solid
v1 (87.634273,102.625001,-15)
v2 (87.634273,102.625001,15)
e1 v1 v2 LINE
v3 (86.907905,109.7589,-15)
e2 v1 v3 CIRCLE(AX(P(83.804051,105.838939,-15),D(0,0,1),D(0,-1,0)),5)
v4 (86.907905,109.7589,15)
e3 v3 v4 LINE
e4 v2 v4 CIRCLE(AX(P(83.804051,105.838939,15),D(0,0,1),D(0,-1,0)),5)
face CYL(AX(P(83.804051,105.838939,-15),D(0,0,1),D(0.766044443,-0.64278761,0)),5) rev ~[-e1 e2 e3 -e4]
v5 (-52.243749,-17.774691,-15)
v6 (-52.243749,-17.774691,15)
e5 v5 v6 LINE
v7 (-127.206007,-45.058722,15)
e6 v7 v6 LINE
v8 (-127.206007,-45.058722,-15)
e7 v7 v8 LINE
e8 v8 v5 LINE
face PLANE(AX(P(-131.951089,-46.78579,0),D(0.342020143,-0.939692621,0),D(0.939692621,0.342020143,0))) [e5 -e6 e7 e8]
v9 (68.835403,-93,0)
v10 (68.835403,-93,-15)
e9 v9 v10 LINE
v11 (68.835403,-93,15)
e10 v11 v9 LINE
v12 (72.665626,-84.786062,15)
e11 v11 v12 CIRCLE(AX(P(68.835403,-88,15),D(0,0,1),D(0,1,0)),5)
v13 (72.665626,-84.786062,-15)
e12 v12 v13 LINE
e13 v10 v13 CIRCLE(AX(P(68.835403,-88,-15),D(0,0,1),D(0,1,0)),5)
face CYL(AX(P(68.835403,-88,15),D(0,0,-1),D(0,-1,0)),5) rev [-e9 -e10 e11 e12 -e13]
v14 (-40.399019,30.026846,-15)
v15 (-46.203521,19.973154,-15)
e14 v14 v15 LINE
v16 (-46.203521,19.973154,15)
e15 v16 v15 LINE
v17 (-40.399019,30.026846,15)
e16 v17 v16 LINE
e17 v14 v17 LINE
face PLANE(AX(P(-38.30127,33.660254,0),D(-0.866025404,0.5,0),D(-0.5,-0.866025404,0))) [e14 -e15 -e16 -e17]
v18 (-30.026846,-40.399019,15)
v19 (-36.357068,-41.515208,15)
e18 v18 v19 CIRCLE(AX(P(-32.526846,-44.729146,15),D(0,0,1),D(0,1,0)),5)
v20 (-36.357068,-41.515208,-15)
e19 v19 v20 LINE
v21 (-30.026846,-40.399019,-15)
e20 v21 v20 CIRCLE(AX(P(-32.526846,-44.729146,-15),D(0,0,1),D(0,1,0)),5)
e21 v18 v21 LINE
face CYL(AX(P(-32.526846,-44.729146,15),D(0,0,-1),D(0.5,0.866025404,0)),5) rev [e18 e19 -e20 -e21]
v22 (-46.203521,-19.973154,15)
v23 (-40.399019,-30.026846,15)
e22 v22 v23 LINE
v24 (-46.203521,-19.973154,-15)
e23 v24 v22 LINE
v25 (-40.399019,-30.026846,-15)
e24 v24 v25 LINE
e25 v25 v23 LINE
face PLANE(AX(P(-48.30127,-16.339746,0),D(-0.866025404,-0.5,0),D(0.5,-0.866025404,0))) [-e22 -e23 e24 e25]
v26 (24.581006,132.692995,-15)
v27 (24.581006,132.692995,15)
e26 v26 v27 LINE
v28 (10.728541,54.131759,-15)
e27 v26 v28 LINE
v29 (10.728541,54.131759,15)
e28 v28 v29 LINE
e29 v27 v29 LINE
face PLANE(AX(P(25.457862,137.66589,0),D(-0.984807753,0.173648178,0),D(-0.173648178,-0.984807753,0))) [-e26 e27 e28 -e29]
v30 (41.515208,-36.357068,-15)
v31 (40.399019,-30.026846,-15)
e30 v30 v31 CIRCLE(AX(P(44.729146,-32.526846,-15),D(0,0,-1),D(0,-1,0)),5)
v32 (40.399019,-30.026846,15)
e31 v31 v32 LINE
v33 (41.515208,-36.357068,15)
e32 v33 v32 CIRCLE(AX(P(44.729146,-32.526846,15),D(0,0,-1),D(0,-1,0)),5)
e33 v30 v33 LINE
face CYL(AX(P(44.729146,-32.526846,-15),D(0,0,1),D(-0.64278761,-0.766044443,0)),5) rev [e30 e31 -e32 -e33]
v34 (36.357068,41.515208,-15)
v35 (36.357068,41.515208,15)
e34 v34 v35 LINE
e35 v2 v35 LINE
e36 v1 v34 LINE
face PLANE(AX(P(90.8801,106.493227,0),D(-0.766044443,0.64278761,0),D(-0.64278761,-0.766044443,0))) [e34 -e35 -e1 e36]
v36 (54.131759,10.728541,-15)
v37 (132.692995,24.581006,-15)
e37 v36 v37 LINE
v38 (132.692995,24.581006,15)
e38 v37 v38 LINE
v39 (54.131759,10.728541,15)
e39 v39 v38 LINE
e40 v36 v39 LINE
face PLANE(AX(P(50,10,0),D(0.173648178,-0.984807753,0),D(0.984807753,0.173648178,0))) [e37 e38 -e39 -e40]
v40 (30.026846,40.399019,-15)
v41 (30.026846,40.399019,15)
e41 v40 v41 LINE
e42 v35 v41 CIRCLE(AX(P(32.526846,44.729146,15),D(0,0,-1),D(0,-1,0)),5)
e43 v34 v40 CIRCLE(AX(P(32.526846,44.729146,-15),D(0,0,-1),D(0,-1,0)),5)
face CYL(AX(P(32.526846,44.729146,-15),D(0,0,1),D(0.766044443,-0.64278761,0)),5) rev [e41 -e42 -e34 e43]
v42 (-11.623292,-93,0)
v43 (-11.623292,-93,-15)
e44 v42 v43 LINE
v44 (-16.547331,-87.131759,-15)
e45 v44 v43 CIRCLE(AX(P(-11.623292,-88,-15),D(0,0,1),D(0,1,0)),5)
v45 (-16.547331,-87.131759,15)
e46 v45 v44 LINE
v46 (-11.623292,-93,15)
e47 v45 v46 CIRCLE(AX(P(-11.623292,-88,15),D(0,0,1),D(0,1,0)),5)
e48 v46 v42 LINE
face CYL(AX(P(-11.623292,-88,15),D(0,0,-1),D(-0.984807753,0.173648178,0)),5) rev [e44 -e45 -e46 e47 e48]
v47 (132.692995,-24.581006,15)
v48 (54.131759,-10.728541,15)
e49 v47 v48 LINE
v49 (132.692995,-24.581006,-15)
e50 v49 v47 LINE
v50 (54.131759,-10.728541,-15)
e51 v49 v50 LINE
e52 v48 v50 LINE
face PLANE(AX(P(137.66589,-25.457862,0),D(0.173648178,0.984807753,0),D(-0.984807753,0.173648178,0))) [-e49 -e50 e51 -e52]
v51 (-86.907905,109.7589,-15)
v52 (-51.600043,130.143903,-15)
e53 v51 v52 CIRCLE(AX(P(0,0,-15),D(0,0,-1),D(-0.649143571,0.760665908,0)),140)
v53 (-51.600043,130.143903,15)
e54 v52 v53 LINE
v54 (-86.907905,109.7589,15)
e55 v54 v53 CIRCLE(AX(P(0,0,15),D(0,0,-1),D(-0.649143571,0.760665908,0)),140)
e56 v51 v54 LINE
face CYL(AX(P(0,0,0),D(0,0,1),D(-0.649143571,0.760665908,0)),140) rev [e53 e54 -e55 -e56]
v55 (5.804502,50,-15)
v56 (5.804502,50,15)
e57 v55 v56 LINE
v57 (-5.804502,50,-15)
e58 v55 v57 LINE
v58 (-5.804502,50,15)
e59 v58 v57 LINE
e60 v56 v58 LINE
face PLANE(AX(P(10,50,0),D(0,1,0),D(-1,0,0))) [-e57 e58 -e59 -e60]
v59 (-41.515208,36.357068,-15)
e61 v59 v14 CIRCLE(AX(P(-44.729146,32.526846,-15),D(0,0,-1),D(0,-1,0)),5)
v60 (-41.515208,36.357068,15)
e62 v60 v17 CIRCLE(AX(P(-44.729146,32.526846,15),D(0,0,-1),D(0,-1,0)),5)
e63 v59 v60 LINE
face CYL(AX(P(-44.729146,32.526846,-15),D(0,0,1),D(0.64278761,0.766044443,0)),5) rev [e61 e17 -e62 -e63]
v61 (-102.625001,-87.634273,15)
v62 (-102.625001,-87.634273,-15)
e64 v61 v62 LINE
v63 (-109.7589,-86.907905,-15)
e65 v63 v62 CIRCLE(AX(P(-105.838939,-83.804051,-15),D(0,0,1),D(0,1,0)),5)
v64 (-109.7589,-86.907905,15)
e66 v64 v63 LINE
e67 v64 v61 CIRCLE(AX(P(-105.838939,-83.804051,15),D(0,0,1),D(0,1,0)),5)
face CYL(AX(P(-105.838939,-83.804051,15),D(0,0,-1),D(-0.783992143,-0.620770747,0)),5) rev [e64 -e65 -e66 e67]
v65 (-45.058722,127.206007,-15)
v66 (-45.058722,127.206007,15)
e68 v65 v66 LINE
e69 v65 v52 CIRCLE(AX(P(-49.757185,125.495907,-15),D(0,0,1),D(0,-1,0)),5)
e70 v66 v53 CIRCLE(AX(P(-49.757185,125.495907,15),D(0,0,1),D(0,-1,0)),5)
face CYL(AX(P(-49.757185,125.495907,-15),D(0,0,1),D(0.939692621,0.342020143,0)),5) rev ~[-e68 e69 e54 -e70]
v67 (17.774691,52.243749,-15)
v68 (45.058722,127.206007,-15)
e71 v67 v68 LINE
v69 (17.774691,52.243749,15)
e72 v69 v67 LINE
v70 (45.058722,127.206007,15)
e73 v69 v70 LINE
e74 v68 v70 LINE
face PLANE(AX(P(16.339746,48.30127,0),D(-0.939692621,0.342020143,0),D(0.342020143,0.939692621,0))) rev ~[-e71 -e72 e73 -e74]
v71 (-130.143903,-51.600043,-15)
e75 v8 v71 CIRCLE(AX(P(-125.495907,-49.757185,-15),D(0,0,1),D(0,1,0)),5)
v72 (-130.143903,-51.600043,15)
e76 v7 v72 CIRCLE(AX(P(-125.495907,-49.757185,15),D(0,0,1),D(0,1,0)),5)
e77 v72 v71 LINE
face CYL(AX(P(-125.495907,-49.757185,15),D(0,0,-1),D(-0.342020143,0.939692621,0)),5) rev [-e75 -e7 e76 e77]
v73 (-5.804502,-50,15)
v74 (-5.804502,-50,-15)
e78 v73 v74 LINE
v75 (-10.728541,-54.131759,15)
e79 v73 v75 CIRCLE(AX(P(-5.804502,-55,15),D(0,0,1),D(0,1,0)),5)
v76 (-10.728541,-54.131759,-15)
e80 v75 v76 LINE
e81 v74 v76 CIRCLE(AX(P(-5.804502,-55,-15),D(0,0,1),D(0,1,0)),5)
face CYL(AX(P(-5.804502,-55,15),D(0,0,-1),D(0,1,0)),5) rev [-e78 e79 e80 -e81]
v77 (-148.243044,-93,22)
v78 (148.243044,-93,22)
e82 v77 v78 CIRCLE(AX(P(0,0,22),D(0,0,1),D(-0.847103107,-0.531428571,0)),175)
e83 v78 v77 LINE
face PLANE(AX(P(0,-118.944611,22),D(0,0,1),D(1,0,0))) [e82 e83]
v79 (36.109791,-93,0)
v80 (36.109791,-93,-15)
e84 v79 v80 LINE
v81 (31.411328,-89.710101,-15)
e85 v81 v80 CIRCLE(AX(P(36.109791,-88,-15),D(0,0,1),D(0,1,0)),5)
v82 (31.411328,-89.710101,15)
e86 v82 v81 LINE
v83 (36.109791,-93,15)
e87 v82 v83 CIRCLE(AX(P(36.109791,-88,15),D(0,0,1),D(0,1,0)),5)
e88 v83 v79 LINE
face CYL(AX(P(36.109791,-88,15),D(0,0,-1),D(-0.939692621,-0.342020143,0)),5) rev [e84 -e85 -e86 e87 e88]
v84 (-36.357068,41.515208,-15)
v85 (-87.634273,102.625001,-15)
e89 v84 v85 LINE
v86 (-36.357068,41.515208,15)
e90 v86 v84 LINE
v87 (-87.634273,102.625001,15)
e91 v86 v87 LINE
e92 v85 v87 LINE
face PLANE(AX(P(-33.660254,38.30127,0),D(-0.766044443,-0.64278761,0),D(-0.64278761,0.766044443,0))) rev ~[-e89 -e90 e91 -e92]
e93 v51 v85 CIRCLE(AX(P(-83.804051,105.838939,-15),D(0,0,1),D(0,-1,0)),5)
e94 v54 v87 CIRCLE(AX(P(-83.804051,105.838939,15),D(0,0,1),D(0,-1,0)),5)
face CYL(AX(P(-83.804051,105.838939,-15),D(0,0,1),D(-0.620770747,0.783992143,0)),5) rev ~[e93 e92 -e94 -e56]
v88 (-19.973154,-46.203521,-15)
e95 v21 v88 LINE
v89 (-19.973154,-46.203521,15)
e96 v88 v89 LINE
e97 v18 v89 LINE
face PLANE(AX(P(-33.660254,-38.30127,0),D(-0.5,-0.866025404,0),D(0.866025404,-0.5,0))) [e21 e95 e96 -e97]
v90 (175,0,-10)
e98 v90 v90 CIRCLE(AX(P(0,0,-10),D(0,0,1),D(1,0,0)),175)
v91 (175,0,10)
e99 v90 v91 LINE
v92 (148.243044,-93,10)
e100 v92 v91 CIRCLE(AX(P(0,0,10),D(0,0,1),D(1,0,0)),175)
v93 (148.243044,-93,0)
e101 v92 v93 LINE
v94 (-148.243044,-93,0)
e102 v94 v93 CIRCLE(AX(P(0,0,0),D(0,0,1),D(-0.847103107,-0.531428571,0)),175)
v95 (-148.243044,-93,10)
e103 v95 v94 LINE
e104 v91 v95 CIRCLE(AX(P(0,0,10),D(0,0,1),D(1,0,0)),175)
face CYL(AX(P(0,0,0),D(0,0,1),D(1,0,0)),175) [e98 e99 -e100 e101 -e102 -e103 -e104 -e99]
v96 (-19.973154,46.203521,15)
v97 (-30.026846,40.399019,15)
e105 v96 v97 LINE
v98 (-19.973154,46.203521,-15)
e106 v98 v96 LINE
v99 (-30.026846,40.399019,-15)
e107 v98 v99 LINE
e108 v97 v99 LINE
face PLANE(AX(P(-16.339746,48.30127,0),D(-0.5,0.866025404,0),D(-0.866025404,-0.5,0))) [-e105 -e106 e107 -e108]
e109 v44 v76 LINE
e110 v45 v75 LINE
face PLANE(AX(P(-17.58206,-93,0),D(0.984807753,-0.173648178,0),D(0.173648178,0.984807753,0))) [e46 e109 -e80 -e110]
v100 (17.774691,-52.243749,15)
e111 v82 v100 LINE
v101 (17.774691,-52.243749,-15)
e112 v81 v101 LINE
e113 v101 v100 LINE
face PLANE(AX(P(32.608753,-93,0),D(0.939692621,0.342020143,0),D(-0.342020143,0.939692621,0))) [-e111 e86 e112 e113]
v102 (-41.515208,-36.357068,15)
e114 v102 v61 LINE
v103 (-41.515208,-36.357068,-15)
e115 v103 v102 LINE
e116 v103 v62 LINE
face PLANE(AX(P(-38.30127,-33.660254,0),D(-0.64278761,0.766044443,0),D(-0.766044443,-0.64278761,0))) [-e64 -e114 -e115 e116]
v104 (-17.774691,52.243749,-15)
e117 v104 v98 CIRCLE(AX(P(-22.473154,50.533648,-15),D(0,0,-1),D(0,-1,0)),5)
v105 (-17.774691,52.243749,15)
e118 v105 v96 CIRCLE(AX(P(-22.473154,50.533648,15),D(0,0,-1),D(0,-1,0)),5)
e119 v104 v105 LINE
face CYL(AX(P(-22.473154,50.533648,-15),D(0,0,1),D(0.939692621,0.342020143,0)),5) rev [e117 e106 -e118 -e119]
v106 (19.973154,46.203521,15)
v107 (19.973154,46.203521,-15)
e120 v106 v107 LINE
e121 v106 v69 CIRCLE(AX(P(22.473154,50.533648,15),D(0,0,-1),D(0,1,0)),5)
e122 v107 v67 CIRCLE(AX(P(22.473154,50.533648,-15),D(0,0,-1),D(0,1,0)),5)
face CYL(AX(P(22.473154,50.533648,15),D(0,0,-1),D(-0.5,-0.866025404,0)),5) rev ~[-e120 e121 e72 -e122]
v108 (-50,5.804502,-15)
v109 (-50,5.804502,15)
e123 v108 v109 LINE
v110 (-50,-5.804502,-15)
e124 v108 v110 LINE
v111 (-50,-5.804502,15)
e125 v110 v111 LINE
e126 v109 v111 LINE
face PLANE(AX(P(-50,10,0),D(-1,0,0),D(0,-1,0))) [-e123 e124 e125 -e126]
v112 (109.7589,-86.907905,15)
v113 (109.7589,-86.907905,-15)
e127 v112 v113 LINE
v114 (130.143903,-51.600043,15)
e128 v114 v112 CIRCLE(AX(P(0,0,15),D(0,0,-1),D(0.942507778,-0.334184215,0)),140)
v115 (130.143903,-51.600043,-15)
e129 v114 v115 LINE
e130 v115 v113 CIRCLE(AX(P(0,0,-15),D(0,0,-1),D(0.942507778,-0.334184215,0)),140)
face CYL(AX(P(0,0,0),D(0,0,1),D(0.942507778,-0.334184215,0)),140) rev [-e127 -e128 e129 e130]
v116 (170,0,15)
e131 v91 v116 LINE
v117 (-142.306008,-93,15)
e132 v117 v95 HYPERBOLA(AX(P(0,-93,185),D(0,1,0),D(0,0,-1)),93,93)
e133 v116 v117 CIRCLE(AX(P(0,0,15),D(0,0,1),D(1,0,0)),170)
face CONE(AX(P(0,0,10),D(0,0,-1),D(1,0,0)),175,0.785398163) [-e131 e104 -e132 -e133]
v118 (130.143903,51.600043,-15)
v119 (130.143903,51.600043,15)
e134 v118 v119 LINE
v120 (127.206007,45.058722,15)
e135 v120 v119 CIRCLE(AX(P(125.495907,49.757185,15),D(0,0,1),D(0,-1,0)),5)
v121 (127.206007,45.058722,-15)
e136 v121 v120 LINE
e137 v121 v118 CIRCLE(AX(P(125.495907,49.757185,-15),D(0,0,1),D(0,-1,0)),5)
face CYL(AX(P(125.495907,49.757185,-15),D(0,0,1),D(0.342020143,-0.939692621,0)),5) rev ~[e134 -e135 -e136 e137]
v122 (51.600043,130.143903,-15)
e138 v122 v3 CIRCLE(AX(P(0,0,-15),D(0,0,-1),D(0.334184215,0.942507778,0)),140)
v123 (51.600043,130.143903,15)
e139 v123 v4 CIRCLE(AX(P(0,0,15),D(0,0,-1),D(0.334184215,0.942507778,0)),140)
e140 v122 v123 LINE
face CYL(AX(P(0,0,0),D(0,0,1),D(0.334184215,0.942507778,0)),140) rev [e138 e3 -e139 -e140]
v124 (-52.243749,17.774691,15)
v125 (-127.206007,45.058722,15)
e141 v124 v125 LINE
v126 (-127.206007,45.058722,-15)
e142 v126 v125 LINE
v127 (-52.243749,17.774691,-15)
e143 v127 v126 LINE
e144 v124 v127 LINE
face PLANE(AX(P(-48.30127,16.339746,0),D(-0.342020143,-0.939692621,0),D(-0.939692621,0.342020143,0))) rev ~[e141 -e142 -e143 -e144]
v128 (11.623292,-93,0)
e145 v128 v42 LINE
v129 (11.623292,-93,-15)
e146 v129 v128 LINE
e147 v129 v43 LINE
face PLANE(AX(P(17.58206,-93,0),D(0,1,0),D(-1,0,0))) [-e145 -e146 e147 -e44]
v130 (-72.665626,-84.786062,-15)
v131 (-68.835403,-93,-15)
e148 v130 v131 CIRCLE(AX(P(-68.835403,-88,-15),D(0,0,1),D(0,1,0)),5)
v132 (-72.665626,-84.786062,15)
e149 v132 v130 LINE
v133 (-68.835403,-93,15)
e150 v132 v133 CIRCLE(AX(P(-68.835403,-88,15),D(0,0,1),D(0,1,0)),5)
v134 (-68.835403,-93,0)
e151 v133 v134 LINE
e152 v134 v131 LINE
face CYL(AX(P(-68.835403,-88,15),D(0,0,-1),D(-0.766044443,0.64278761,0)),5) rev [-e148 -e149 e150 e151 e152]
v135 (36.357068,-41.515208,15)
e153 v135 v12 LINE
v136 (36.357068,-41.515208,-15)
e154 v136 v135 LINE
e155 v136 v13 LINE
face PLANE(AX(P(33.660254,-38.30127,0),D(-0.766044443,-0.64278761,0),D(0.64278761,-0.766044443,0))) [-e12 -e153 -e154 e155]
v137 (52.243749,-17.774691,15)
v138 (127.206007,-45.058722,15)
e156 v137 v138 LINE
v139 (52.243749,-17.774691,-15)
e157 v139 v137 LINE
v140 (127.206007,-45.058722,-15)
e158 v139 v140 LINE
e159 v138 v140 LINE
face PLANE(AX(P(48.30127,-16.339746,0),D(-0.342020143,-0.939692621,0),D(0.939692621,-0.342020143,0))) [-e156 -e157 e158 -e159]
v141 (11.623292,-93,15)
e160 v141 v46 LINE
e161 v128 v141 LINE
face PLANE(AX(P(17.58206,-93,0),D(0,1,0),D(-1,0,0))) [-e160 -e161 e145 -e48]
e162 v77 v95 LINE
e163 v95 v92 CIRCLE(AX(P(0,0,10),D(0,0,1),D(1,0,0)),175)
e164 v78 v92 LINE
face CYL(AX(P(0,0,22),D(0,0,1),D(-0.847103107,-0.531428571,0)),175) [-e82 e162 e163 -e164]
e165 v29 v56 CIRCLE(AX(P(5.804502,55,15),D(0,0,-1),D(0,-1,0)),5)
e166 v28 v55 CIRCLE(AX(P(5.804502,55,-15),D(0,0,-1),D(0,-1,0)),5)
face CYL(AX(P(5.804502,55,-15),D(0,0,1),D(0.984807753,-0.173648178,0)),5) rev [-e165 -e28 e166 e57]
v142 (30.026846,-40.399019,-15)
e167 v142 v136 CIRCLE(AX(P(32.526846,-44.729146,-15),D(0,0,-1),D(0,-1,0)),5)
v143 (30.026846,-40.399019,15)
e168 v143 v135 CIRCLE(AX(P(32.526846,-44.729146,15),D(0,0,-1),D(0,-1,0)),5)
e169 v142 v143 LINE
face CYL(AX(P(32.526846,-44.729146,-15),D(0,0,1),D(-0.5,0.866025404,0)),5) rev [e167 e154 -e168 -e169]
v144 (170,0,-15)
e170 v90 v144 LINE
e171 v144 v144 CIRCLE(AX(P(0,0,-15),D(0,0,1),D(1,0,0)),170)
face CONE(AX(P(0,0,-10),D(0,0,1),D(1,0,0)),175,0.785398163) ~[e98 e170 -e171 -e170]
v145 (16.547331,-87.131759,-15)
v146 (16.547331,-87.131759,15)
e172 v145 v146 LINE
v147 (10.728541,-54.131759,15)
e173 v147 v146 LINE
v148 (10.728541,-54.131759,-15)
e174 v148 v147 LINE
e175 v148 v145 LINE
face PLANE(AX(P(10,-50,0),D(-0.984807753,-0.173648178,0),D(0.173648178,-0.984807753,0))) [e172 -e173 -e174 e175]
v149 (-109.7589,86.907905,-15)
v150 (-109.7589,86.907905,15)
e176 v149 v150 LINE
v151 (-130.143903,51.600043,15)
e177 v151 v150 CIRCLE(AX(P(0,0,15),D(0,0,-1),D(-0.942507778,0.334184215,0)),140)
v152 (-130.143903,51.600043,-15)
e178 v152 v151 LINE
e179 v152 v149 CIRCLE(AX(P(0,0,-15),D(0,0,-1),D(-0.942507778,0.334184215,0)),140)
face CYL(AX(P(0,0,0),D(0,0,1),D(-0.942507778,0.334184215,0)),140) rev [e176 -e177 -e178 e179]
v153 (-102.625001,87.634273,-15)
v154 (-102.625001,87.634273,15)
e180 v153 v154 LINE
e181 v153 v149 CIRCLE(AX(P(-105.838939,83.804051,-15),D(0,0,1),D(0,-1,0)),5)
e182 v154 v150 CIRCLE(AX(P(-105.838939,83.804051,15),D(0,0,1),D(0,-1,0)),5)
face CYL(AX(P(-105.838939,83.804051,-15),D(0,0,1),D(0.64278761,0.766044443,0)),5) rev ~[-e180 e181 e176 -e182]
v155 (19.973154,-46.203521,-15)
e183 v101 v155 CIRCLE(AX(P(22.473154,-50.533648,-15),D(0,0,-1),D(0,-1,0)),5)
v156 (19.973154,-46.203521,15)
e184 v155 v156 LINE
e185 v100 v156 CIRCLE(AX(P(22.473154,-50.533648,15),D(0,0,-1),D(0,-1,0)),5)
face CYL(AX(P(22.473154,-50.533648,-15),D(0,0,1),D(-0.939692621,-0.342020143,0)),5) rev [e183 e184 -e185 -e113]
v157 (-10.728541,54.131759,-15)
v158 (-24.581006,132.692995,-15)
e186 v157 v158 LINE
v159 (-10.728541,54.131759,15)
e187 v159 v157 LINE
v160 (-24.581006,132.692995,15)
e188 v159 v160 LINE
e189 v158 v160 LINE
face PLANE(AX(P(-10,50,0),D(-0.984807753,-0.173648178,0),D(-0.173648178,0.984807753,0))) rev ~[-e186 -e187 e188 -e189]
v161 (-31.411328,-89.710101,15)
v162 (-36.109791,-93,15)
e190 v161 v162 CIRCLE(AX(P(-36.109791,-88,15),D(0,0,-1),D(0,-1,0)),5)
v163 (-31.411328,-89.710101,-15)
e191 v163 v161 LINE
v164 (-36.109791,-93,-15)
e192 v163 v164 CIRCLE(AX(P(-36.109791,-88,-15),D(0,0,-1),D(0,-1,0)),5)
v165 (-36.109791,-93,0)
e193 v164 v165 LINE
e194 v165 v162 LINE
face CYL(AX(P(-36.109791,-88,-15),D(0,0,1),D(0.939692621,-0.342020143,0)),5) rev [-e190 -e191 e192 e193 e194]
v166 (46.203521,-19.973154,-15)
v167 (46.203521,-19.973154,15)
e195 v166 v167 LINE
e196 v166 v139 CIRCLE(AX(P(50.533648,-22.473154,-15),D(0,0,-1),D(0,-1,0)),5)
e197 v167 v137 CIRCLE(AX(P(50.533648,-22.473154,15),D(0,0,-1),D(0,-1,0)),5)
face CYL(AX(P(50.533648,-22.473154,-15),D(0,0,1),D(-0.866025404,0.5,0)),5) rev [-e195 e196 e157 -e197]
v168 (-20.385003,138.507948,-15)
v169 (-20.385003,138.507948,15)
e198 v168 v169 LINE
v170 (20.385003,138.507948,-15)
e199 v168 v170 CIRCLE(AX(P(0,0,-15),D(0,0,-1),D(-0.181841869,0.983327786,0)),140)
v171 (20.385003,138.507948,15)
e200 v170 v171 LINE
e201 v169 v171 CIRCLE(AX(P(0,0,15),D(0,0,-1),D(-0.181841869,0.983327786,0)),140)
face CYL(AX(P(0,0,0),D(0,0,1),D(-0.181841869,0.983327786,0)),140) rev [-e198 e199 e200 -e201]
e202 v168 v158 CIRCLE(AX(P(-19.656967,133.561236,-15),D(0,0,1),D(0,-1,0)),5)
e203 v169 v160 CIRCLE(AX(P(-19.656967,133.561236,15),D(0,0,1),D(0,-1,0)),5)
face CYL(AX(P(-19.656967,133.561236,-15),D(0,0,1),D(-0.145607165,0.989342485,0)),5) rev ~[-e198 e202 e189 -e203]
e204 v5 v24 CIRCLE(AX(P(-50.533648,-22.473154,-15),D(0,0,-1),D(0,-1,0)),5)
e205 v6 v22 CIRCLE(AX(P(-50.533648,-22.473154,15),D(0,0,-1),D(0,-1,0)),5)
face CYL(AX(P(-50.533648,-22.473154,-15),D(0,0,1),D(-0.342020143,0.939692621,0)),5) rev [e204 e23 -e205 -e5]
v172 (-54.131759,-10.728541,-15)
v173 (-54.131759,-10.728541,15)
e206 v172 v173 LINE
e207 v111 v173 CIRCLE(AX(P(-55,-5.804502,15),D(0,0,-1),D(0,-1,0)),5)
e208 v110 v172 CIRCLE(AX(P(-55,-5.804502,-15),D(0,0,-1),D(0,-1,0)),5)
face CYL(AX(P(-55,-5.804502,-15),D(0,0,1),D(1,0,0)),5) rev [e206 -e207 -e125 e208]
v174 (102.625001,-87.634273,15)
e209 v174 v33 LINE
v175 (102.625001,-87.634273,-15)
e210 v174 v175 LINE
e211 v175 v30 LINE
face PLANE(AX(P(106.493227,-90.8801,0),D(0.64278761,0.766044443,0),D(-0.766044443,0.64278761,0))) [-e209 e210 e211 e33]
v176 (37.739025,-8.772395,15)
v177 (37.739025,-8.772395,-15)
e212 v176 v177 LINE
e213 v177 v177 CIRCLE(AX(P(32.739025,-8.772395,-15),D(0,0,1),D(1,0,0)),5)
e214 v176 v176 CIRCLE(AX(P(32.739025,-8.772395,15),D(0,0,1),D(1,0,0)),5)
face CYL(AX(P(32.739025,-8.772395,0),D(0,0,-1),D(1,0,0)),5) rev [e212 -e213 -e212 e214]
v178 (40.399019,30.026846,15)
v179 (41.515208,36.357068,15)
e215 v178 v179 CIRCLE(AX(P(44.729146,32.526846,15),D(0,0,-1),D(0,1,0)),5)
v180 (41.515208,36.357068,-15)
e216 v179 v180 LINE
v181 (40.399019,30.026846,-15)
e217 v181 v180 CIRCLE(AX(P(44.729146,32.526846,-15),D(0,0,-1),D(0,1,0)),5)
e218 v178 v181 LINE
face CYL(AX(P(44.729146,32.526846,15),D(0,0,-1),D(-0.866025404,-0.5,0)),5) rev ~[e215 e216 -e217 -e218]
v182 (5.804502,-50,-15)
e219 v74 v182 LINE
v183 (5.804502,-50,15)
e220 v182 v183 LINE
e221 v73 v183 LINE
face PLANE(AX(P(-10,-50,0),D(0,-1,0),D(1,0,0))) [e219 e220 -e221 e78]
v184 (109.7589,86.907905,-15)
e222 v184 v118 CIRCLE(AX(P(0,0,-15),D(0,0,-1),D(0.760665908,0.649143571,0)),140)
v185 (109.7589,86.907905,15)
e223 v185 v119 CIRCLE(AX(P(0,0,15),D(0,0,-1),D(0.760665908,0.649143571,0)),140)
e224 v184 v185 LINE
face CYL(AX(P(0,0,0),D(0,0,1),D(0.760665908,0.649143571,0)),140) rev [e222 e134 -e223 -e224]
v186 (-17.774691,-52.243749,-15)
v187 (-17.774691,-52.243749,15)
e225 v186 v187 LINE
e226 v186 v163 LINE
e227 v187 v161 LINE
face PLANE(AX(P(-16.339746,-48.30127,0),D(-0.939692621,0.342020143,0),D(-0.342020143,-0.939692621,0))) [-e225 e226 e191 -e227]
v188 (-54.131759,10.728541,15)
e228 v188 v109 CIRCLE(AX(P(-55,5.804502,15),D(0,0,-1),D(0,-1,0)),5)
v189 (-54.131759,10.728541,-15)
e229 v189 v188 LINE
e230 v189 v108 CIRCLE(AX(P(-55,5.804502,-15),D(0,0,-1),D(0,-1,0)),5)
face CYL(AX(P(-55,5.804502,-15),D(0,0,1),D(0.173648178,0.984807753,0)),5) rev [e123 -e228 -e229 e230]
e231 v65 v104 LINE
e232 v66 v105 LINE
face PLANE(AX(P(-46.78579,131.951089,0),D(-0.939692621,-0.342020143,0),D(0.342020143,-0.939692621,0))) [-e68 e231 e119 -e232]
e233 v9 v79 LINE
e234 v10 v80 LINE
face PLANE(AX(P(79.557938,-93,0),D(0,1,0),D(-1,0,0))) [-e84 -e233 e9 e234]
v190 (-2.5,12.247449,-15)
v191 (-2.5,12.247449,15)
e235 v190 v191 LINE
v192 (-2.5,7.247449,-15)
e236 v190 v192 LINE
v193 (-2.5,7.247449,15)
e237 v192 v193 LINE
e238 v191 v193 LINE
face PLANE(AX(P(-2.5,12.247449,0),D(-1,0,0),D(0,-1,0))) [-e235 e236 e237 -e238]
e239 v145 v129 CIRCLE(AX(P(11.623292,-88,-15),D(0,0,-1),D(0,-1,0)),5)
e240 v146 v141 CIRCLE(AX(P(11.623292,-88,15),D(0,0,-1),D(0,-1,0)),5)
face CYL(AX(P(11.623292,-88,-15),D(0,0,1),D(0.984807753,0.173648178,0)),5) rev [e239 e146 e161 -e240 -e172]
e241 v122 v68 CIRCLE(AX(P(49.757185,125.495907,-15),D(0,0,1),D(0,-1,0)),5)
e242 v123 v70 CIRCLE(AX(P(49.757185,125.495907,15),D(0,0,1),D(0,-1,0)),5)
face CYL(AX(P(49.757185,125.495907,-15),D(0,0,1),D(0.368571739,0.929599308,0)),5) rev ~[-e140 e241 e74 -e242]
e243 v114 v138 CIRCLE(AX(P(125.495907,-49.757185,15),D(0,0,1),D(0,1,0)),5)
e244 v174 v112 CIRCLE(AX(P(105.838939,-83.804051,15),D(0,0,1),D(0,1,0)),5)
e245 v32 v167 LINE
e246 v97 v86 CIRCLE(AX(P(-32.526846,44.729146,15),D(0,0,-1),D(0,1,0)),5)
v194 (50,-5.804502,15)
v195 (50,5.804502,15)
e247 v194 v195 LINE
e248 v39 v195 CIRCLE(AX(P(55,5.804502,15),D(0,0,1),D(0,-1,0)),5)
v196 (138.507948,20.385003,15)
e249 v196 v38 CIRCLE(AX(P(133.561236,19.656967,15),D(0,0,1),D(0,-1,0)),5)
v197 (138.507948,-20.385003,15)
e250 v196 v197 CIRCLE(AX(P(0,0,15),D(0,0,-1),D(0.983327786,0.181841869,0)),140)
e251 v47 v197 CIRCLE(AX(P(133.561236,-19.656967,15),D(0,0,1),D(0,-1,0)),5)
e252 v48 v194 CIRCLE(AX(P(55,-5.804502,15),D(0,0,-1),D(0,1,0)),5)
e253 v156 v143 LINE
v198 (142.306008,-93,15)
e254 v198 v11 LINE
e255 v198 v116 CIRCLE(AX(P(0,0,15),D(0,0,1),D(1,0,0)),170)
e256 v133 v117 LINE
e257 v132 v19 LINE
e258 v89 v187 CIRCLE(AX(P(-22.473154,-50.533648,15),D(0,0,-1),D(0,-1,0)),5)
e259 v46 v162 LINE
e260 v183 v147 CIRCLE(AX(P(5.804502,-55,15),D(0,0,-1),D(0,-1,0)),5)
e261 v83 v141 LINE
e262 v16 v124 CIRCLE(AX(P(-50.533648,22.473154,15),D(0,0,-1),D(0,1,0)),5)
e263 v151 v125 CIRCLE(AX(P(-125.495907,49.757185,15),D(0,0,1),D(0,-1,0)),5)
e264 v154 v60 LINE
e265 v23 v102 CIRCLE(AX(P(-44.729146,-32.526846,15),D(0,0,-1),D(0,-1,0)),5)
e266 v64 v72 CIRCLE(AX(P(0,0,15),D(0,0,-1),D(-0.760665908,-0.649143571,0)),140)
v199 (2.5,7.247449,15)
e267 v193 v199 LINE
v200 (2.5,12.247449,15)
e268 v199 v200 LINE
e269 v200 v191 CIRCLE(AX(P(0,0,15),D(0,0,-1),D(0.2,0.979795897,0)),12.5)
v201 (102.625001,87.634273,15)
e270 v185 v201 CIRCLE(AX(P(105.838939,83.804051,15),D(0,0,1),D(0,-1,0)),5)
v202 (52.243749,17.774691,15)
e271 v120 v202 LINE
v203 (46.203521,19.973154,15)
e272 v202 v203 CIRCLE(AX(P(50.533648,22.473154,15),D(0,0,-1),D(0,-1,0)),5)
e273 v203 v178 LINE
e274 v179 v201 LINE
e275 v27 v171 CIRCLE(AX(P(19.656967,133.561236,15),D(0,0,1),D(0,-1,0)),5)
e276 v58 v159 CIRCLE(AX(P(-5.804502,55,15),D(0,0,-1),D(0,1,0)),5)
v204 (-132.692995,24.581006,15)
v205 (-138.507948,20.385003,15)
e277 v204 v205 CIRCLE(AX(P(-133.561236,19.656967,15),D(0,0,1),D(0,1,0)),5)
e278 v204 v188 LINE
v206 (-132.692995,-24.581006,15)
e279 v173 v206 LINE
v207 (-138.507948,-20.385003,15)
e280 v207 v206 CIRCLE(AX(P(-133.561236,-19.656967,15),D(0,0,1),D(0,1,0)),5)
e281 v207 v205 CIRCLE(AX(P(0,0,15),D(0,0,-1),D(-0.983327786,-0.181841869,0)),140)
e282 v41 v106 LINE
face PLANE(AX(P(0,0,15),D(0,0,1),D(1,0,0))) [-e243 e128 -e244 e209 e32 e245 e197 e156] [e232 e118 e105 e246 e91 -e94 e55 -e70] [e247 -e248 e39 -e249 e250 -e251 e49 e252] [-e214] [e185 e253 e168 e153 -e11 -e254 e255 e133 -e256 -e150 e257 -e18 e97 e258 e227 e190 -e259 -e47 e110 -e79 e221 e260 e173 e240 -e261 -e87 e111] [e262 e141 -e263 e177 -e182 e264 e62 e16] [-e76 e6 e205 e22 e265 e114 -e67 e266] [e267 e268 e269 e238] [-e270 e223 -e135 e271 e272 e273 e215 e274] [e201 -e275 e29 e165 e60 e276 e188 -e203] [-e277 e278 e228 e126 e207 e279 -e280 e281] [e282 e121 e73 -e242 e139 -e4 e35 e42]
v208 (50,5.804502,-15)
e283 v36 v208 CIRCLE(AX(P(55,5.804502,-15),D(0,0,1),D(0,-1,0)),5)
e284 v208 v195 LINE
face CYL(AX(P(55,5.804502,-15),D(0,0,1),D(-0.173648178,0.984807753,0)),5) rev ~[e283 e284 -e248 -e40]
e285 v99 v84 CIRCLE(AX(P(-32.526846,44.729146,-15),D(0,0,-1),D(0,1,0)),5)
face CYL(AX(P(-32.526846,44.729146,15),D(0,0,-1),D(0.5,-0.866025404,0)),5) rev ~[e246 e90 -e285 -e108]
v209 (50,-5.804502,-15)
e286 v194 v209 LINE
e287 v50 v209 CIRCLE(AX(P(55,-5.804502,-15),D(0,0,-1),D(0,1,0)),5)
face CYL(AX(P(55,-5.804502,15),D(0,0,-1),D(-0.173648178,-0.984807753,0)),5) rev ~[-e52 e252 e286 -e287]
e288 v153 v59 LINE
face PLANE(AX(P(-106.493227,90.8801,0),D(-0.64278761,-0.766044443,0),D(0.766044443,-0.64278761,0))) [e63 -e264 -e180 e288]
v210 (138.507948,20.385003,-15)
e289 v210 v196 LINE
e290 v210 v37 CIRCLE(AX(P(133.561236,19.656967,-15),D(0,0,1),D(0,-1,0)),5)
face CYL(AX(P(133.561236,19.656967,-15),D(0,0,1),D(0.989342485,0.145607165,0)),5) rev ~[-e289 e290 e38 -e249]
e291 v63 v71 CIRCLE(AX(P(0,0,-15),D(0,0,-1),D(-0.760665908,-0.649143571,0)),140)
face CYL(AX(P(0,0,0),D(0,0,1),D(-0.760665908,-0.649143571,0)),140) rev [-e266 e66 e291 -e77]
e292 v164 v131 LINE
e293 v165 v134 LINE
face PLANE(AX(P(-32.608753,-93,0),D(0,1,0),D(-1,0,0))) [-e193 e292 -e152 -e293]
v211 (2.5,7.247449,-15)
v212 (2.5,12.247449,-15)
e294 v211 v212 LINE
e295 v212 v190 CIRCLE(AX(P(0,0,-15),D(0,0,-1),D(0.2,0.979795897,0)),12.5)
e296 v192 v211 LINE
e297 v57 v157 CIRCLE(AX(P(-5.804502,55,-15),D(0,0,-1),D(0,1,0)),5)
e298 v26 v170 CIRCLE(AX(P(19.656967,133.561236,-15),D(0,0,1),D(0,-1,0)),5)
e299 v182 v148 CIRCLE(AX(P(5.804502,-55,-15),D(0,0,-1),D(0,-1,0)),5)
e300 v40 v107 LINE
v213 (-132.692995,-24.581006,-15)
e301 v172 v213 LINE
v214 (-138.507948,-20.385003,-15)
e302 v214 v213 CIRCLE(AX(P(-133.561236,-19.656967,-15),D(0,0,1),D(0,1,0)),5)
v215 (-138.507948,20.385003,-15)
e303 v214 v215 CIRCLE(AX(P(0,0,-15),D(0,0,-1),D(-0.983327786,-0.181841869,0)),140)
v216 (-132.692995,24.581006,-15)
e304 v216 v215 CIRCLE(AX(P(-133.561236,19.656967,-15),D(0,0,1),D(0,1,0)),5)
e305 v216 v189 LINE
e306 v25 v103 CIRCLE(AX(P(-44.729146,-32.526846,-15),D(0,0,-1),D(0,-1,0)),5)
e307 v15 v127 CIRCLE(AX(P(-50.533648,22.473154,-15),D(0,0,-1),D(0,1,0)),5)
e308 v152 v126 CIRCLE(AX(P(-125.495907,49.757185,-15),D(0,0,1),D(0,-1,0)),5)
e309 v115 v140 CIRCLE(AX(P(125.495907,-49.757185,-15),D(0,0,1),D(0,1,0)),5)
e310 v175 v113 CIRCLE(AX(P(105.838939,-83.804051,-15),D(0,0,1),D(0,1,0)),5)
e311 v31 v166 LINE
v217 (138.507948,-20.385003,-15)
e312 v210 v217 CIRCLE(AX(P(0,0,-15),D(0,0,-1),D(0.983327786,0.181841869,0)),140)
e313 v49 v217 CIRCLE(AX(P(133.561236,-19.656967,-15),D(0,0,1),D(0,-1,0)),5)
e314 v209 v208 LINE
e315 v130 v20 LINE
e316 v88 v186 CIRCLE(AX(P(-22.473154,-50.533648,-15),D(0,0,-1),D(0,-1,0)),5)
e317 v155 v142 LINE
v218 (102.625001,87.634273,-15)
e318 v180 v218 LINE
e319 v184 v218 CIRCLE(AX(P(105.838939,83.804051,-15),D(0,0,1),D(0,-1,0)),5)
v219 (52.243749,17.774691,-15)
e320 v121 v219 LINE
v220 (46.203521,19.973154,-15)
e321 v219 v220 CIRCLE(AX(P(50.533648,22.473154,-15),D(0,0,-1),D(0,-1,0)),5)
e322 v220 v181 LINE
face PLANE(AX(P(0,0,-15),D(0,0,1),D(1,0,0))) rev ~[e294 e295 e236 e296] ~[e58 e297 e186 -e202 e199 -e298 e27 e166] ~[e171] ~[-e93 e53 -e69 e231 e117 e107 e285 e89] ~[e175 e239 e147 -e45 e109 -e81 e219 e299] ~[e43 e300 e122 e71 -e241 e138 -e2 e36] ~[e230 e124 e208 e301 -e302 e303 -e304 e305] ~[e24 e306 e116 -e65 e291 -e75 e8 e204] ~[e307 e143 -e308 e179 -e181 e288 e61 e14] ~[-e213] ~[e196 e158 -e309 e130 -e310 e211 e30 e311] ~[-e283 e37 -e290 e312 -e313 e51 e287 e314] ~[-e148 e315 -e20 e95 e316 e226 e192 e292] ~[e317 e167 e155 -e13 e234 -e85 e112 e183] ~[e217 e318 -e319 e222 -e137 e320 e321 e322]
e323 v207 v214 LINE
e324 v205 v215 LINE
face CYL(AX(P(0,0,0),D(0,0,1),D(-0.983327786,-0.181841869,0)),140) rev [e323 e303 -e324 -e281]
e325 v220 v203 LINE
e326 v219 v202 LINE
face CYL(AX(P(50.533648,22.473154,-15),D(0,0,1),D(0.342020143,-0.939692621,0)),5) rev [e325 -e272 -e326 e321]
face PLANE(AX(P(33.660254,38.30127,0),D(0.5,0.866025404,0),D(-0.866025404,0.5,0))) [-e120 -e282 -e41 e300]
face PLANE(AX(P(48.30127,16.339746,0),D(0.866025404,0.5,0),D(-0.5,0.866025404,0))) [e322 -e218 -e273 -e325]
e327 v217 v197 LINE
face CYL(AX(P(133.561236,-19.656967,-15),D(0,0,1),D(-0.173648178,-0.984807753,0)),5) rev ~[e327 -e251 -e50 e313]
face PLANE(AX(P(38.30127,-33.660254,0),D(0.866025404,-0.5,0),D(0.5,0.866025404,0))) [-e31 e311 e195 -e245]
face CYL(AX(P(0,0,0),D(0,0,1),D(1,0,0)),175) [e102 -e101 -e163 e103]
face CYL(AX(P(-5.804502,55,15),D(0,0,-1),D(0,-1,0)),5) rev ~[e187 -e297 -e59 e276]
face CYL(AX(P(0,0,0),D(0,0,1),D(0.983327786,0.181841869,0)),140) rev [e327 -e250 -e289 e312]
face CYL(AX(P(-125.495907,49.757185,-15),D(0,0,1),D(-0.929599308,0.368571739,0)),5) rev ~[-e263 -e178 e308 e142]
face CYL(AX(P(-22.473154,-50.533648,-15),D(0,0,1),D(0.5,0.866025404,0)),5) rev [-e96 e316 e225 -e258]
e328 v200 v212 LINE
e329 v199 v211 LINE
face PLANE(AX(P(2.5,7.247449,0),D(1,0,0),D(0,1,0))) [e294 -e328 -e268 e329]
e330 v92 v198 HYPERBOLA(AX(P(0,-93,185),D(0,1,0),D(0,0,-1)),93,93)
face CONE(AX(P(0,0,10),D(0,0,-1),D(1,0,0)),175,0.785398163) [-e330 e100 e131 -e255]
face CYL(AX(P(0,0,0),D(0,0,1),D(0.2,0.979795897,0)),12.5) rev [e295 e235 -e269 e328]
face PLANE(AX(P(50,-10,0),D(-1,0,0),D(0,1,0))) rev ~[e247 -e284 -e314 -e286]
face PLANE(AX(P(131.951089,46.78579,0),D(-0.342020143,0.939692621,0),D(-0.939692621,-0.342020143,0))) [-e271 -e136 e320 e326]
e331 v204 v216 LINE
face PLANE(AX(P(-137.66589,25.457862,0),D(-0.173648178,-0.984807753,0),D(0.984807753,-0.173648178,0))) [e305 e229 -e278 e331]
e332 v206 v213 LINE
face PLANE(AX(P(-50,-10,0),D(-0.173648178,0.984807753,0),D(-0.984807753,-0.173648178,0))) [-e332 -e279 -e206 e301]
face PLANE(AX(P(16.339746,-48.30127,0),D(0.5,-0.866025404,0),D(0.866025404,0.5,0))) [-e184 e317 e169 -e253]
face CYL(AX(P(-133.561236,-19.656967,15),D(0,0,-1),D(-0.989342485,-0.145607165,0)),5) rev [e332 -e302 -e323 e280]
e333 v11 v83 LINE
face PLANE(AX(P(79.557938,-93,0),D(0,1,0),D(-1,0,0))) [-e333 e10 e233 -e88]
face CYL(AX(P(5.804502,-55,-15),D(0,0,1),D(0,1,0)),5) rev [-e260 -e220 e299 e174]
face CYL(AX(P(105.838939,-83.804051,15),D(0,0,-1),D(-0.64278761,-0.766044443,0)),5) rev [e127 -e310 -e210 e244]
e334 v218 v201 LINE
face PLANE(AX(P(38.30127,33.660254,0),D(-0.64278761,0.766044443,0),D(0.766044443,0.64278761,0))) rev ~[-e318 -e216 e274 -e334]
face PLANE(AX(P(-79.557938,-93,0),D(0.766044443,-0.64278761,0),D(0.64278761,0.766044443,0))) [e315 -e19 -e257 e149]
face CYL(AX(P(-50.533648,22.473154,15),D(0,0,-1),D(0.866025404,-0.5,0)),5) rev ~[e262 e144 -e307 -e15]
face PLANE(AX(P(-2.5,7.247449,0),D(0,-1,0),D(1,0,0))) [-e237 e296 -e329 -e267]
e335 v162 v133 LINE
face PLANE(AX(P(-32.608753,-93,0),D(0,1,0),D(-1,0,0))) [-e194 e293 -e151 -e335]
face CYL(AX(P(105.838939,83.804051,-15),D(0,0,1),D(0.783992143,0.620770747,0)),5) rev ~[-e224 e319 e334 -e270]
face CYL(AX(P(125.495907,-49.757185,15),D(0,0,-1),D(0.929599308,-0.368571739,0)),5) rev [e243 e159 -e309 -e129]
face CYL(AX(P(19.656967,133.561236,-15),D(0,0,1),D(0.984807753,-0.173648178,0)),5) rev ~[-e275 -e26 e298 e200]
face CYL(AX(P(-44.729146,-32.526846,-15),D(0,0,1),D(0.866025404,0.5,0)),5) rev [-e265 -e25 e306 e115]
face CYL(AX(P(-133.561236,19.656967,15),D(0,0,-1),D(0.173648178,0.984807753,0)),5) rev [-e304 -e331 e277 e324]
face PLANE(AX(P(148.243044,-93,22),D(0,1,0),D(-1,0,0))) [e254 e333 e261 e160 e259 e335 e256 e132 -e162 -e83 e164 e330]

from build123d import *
from build123d.topology import SkipClean

# Parameters (mm, degrees)
SKETCH2_R           = 175
SKETCH2_R_2         = 5
BOSS_EXTRUDE1_DEPTH = 15
CHAMFER1_SIZE       = 5
FILLET1_R           = 5
FILLET2_R           = 5
BOSS_EXTRUDE2_START = 22
BOSS_EXTRUDE2_DEPTH = 22


with BuildPart() as part:
    # Sketch2 → Boss-Extrude1 (new, symmetric)
    with BuildSketch(Plane.XY):
        Circle(SKETCH2_R)
        Polygon((16.339745962, -48.301270189), (33.660254038, -38.301270189), (79.557938048, -93), (32.608753123, -93), align=None, mode=Mode.SUBTRACT)
        Polygon((10, -50), (17.58206017, -93), (-17.58206017, -93), (-10, -50), align=None, mode=Mode.SUBTRACT)
        Polygon((-16.339745962, -48.301270189), (-32.608753123, -93), (-79.557938048, -93), (-33.660254038, -38.301270189), align=None, mode=Mode.SUBTRACT)
        with BuildLine():
            Line((-50, 10), (-50, -10))
            Line((-50, -10), (-137.66589003, -25.4578617))
            ThreePointArc((-137.66589003, -25.4578617), (-140, 0), (-137.66589003, 25.4578617))
            Line((-137.66589003, 25.4578617), (-50, 10))
        make_face(mode=Mode.SUBTRACT)
        with BuildLine():
            Line((-48.301270189, -16.339745962), (-38.301270189, -33.660254038))
            Line((-38.301270189, -33.660254038), (-106.49322715, -90.880099973))
            ThreePointArc((-106.49322715, -90.880099973), (-121.24355653, -70), (-131.95108885, -46.785790057))
            Line((-131.95108885, -46.785790057), (-48.301270189, -16.339745962))
        make_face(mode=Mode.SUBTRACT)
        with BuildLine():
            Line((38.301270189, -33.660254038), (48.301270189, -16.339745962))
            Line((48.301270189, -16.339745962), (131.95108885, -46.785790057))
            ThreePointArc((131.95108885, -46.785790057), (121.24355653, -70), (106.49322715, -90.880099973))
            Line((106.49322715, -90.880099973), (38.301270189, -33.660254038))
        make_face(mode=Mode.SUBTRACT)
        with Locations((32.7390252, -8.772395363)):
            Circle(SKETCH2_R_2, mode=Mode.SUBTRACT)
        with BuildLine():
            Line((-38.301270189, 33.660254038), (-48.301270189, 16.339745962))
            Line((-48.301270189, 16.339745962), (-131.95108885, 46.785790057))
            ThreePointArc((-131.95108885, 46.785790057), (-121.24355653, 70), (-106.49322715, 90.880099973))
            Line((-106.49322715, 90.880099973), (-38.301270189, 33.660254038))
        make_face(mode=Mode.SUBTRACT)
        with BuildLine():
            Line((-16.339745962, 48.301270189), (-33.660254038, 38.301270189))
            Line((-33.660254038, 38.301270189), (-90.880099973, 106.49322715))
            ThreePointArc((-90.880099973, 106.49322715), (-70, 121.24355653), (-46.785790057, 131.95108885))
            Line((-46.785790057, 131.95108885), (-16.339745962, 48.301270189))
        make_face(mode=Mode.SUBTRACT)
        with BuildLine():
            Line((10, 50), (-10, 50))
            Line((-10, 50), (-25.4578617, 137.66589003))
            ThreePointArc((-25.4578617, 137.66589003), (0, 140), (25.4578617, 137.66589003))
            Line((25.4578617, 137.66589003), (10, 50))
        make_face(mode=Mode.SUBTRACT)
        with BuildLine():
            Line((-2.5, 12.247448714), (-2.5, 7.247448714))
            Line((-2.5, 7.247448714), (2.5, 7.247448714))
            Line((2.5, 7.247448714), (2.5, 12.247448714))
            ThreePointArc((2.5, 12.247448714), (0, -12.5), (-2.5, 12.247448714))
        make_face(mode=Mode.SUBTRACT)
        with BuildLine():
            Line((48.301270189, 16.339745962), (38.301270189, 33.660254038))
            Line((38.301270189, 33.660254038), (106.49322715, 90.880099973))
            ThreePointArc((106.49322715, 90.880099973), (121.24355653, 70), (131.95108885, 46.785790057))
            Line((131.95108885, 46.785790057), (48.301270189, 16.339745962))
        make_face(mode=Mode.SUBTRACT)
        with BuildLine():
            Line((33.660254038, 38.301270189), (16.339745962, 48.301270189))
            Line((16.339745962, 48.301270189), (46.785790057, 131.95108885))
            ThreePointArc((46.785790057, 131.95108885), (70, 121.24355653), (90.880099973, 106.49322715))
            Line((90.880099973, 106.49322715), (33.660254038, 38.301270189))
        make_face(mode=Mode.SUBTRACT)
        with BuildLine():
            Line((50, -10), (50, 10))
            Line((50, 10), (137.66589003, 25.4578617))
            ThreePointArc((137.66589003, 25.4578617), (140, 0), (137.66589003, -25.4578617))
            Line((137.66589003, -25.4578617), (50, -10))
        make_face(mode=Mode.SUBTRACT)
    extrude(amount=BOSS_EXTRUDE1_DEPTH, both=True)

    # Chamfer1
    chamfer1_edges = [part.edges().sort_by_distance(p)[0] for p in [
        (-175, 0, -15),
        (-175, 0, 15),
    ]]
    chamfer(chamfer1_edges, length=CHAMFER1_SIZE)

    # Fillet1
    fillet1_edges = [part.edges().sort_by_distance(p)[0] for p in [
        (10, 50, 0),
        (-10, 50, 0),
        (-33.660254038, -38.301270189, 0),
        (-16.339745962, -48.301270189, 0),
        (-10, -50, 0),
        (10, -50, 0),
        (16.339745962, -48.301270189, 0),
        (33.660254038, -38.301270189, 0),
        (38.301270189, -33.660254038, 0),
        (48.301270189, -16.339745962, 0),
        (50, -10, 0),
        (50, 10, 0),
        (48.301270189, 16.339745962, 0),
        (38.301270189, 33.660254038, 0),
        (33.660254038, 38.301270189, 0),
        (16.339745962, 48.301270189, 0),
        (-48.301270189, -16.339745962, 0),
        (-38.301270189, 33.660254038, 0),
        (-50, 10, 0),
        (-33.660254038, 38.301270189, 0),
        (-38.301270189, -33.660254038, 0),
        (-50, -10, 0),
        (-48.301270189, 16.339745962, 0),
        (-16.339745962, 48.301270189, 0),
    ]]
    fillet(fillet1_edges, radius=FILLET1_R)

    # Fillet2
    fillet2_edges = [part.edges().sort_by_distance(p)[0] for p in [
        (-46.785790057, 131.95108885, 0),
        (-90.880099973, 106.49322715, 0),
        (-106.49322715, 90.880099973, 0),
        (-131.95108885, 46.785790057, 0),
        (-137.66589003, 25.4578617, 0),
        (-137.66589003, -25.4578617, 0),
        (-131.95108885, -46.785790057, 0),
        (137.66589003, 25.4578617, 0),
        (106.49322715, 90.880099973, 0),
        (46.785790057, 131.95108885, 0),
        (131.95108885, -46.785790057, 0),
        (-106.49322715, -90.880099973, 0),
        (106.49322715, -90.880099973, 0),
        (137.66589003, -25.4578617, 0),
        (131.95108885, 46.785790057, 0),
        (90.880099973, 106.49322715, 0),
        (25.4578617, 137.66589003, 0),
        (-25.4578617, 137.66589003, 0),
        (-32.608753123, -93, 0),
        (-17.58206017, -93, 0),
        (17.58206017, -93, 0),
        (32.608753123, -93, 0),
        (-79.557938048, -93, 0),
        (79.557938048, -93, 0),
    ]]
    fillet(fillet2_edges, radius=FILLET2_R)

    # Sketch2<3> → Boss-Extrude2 (add)
    with SkipClean():  # the faces are left unmerged after this step: merging them gives an invalid solid
        with BuildSketch(Plane.XY.offset(BOSS_EXTRUDE2_START)):
            with BuildLine():
                Line((148.243043682, -93), (-148.243043682, -93))
                ThreePointArc((-148.243043682, -93), (0, -175), (148.243043682, -93))
            make_face()
        extrude(amount=-BOSS_EXTRUDE2_DEPTH)


solid = part.part
